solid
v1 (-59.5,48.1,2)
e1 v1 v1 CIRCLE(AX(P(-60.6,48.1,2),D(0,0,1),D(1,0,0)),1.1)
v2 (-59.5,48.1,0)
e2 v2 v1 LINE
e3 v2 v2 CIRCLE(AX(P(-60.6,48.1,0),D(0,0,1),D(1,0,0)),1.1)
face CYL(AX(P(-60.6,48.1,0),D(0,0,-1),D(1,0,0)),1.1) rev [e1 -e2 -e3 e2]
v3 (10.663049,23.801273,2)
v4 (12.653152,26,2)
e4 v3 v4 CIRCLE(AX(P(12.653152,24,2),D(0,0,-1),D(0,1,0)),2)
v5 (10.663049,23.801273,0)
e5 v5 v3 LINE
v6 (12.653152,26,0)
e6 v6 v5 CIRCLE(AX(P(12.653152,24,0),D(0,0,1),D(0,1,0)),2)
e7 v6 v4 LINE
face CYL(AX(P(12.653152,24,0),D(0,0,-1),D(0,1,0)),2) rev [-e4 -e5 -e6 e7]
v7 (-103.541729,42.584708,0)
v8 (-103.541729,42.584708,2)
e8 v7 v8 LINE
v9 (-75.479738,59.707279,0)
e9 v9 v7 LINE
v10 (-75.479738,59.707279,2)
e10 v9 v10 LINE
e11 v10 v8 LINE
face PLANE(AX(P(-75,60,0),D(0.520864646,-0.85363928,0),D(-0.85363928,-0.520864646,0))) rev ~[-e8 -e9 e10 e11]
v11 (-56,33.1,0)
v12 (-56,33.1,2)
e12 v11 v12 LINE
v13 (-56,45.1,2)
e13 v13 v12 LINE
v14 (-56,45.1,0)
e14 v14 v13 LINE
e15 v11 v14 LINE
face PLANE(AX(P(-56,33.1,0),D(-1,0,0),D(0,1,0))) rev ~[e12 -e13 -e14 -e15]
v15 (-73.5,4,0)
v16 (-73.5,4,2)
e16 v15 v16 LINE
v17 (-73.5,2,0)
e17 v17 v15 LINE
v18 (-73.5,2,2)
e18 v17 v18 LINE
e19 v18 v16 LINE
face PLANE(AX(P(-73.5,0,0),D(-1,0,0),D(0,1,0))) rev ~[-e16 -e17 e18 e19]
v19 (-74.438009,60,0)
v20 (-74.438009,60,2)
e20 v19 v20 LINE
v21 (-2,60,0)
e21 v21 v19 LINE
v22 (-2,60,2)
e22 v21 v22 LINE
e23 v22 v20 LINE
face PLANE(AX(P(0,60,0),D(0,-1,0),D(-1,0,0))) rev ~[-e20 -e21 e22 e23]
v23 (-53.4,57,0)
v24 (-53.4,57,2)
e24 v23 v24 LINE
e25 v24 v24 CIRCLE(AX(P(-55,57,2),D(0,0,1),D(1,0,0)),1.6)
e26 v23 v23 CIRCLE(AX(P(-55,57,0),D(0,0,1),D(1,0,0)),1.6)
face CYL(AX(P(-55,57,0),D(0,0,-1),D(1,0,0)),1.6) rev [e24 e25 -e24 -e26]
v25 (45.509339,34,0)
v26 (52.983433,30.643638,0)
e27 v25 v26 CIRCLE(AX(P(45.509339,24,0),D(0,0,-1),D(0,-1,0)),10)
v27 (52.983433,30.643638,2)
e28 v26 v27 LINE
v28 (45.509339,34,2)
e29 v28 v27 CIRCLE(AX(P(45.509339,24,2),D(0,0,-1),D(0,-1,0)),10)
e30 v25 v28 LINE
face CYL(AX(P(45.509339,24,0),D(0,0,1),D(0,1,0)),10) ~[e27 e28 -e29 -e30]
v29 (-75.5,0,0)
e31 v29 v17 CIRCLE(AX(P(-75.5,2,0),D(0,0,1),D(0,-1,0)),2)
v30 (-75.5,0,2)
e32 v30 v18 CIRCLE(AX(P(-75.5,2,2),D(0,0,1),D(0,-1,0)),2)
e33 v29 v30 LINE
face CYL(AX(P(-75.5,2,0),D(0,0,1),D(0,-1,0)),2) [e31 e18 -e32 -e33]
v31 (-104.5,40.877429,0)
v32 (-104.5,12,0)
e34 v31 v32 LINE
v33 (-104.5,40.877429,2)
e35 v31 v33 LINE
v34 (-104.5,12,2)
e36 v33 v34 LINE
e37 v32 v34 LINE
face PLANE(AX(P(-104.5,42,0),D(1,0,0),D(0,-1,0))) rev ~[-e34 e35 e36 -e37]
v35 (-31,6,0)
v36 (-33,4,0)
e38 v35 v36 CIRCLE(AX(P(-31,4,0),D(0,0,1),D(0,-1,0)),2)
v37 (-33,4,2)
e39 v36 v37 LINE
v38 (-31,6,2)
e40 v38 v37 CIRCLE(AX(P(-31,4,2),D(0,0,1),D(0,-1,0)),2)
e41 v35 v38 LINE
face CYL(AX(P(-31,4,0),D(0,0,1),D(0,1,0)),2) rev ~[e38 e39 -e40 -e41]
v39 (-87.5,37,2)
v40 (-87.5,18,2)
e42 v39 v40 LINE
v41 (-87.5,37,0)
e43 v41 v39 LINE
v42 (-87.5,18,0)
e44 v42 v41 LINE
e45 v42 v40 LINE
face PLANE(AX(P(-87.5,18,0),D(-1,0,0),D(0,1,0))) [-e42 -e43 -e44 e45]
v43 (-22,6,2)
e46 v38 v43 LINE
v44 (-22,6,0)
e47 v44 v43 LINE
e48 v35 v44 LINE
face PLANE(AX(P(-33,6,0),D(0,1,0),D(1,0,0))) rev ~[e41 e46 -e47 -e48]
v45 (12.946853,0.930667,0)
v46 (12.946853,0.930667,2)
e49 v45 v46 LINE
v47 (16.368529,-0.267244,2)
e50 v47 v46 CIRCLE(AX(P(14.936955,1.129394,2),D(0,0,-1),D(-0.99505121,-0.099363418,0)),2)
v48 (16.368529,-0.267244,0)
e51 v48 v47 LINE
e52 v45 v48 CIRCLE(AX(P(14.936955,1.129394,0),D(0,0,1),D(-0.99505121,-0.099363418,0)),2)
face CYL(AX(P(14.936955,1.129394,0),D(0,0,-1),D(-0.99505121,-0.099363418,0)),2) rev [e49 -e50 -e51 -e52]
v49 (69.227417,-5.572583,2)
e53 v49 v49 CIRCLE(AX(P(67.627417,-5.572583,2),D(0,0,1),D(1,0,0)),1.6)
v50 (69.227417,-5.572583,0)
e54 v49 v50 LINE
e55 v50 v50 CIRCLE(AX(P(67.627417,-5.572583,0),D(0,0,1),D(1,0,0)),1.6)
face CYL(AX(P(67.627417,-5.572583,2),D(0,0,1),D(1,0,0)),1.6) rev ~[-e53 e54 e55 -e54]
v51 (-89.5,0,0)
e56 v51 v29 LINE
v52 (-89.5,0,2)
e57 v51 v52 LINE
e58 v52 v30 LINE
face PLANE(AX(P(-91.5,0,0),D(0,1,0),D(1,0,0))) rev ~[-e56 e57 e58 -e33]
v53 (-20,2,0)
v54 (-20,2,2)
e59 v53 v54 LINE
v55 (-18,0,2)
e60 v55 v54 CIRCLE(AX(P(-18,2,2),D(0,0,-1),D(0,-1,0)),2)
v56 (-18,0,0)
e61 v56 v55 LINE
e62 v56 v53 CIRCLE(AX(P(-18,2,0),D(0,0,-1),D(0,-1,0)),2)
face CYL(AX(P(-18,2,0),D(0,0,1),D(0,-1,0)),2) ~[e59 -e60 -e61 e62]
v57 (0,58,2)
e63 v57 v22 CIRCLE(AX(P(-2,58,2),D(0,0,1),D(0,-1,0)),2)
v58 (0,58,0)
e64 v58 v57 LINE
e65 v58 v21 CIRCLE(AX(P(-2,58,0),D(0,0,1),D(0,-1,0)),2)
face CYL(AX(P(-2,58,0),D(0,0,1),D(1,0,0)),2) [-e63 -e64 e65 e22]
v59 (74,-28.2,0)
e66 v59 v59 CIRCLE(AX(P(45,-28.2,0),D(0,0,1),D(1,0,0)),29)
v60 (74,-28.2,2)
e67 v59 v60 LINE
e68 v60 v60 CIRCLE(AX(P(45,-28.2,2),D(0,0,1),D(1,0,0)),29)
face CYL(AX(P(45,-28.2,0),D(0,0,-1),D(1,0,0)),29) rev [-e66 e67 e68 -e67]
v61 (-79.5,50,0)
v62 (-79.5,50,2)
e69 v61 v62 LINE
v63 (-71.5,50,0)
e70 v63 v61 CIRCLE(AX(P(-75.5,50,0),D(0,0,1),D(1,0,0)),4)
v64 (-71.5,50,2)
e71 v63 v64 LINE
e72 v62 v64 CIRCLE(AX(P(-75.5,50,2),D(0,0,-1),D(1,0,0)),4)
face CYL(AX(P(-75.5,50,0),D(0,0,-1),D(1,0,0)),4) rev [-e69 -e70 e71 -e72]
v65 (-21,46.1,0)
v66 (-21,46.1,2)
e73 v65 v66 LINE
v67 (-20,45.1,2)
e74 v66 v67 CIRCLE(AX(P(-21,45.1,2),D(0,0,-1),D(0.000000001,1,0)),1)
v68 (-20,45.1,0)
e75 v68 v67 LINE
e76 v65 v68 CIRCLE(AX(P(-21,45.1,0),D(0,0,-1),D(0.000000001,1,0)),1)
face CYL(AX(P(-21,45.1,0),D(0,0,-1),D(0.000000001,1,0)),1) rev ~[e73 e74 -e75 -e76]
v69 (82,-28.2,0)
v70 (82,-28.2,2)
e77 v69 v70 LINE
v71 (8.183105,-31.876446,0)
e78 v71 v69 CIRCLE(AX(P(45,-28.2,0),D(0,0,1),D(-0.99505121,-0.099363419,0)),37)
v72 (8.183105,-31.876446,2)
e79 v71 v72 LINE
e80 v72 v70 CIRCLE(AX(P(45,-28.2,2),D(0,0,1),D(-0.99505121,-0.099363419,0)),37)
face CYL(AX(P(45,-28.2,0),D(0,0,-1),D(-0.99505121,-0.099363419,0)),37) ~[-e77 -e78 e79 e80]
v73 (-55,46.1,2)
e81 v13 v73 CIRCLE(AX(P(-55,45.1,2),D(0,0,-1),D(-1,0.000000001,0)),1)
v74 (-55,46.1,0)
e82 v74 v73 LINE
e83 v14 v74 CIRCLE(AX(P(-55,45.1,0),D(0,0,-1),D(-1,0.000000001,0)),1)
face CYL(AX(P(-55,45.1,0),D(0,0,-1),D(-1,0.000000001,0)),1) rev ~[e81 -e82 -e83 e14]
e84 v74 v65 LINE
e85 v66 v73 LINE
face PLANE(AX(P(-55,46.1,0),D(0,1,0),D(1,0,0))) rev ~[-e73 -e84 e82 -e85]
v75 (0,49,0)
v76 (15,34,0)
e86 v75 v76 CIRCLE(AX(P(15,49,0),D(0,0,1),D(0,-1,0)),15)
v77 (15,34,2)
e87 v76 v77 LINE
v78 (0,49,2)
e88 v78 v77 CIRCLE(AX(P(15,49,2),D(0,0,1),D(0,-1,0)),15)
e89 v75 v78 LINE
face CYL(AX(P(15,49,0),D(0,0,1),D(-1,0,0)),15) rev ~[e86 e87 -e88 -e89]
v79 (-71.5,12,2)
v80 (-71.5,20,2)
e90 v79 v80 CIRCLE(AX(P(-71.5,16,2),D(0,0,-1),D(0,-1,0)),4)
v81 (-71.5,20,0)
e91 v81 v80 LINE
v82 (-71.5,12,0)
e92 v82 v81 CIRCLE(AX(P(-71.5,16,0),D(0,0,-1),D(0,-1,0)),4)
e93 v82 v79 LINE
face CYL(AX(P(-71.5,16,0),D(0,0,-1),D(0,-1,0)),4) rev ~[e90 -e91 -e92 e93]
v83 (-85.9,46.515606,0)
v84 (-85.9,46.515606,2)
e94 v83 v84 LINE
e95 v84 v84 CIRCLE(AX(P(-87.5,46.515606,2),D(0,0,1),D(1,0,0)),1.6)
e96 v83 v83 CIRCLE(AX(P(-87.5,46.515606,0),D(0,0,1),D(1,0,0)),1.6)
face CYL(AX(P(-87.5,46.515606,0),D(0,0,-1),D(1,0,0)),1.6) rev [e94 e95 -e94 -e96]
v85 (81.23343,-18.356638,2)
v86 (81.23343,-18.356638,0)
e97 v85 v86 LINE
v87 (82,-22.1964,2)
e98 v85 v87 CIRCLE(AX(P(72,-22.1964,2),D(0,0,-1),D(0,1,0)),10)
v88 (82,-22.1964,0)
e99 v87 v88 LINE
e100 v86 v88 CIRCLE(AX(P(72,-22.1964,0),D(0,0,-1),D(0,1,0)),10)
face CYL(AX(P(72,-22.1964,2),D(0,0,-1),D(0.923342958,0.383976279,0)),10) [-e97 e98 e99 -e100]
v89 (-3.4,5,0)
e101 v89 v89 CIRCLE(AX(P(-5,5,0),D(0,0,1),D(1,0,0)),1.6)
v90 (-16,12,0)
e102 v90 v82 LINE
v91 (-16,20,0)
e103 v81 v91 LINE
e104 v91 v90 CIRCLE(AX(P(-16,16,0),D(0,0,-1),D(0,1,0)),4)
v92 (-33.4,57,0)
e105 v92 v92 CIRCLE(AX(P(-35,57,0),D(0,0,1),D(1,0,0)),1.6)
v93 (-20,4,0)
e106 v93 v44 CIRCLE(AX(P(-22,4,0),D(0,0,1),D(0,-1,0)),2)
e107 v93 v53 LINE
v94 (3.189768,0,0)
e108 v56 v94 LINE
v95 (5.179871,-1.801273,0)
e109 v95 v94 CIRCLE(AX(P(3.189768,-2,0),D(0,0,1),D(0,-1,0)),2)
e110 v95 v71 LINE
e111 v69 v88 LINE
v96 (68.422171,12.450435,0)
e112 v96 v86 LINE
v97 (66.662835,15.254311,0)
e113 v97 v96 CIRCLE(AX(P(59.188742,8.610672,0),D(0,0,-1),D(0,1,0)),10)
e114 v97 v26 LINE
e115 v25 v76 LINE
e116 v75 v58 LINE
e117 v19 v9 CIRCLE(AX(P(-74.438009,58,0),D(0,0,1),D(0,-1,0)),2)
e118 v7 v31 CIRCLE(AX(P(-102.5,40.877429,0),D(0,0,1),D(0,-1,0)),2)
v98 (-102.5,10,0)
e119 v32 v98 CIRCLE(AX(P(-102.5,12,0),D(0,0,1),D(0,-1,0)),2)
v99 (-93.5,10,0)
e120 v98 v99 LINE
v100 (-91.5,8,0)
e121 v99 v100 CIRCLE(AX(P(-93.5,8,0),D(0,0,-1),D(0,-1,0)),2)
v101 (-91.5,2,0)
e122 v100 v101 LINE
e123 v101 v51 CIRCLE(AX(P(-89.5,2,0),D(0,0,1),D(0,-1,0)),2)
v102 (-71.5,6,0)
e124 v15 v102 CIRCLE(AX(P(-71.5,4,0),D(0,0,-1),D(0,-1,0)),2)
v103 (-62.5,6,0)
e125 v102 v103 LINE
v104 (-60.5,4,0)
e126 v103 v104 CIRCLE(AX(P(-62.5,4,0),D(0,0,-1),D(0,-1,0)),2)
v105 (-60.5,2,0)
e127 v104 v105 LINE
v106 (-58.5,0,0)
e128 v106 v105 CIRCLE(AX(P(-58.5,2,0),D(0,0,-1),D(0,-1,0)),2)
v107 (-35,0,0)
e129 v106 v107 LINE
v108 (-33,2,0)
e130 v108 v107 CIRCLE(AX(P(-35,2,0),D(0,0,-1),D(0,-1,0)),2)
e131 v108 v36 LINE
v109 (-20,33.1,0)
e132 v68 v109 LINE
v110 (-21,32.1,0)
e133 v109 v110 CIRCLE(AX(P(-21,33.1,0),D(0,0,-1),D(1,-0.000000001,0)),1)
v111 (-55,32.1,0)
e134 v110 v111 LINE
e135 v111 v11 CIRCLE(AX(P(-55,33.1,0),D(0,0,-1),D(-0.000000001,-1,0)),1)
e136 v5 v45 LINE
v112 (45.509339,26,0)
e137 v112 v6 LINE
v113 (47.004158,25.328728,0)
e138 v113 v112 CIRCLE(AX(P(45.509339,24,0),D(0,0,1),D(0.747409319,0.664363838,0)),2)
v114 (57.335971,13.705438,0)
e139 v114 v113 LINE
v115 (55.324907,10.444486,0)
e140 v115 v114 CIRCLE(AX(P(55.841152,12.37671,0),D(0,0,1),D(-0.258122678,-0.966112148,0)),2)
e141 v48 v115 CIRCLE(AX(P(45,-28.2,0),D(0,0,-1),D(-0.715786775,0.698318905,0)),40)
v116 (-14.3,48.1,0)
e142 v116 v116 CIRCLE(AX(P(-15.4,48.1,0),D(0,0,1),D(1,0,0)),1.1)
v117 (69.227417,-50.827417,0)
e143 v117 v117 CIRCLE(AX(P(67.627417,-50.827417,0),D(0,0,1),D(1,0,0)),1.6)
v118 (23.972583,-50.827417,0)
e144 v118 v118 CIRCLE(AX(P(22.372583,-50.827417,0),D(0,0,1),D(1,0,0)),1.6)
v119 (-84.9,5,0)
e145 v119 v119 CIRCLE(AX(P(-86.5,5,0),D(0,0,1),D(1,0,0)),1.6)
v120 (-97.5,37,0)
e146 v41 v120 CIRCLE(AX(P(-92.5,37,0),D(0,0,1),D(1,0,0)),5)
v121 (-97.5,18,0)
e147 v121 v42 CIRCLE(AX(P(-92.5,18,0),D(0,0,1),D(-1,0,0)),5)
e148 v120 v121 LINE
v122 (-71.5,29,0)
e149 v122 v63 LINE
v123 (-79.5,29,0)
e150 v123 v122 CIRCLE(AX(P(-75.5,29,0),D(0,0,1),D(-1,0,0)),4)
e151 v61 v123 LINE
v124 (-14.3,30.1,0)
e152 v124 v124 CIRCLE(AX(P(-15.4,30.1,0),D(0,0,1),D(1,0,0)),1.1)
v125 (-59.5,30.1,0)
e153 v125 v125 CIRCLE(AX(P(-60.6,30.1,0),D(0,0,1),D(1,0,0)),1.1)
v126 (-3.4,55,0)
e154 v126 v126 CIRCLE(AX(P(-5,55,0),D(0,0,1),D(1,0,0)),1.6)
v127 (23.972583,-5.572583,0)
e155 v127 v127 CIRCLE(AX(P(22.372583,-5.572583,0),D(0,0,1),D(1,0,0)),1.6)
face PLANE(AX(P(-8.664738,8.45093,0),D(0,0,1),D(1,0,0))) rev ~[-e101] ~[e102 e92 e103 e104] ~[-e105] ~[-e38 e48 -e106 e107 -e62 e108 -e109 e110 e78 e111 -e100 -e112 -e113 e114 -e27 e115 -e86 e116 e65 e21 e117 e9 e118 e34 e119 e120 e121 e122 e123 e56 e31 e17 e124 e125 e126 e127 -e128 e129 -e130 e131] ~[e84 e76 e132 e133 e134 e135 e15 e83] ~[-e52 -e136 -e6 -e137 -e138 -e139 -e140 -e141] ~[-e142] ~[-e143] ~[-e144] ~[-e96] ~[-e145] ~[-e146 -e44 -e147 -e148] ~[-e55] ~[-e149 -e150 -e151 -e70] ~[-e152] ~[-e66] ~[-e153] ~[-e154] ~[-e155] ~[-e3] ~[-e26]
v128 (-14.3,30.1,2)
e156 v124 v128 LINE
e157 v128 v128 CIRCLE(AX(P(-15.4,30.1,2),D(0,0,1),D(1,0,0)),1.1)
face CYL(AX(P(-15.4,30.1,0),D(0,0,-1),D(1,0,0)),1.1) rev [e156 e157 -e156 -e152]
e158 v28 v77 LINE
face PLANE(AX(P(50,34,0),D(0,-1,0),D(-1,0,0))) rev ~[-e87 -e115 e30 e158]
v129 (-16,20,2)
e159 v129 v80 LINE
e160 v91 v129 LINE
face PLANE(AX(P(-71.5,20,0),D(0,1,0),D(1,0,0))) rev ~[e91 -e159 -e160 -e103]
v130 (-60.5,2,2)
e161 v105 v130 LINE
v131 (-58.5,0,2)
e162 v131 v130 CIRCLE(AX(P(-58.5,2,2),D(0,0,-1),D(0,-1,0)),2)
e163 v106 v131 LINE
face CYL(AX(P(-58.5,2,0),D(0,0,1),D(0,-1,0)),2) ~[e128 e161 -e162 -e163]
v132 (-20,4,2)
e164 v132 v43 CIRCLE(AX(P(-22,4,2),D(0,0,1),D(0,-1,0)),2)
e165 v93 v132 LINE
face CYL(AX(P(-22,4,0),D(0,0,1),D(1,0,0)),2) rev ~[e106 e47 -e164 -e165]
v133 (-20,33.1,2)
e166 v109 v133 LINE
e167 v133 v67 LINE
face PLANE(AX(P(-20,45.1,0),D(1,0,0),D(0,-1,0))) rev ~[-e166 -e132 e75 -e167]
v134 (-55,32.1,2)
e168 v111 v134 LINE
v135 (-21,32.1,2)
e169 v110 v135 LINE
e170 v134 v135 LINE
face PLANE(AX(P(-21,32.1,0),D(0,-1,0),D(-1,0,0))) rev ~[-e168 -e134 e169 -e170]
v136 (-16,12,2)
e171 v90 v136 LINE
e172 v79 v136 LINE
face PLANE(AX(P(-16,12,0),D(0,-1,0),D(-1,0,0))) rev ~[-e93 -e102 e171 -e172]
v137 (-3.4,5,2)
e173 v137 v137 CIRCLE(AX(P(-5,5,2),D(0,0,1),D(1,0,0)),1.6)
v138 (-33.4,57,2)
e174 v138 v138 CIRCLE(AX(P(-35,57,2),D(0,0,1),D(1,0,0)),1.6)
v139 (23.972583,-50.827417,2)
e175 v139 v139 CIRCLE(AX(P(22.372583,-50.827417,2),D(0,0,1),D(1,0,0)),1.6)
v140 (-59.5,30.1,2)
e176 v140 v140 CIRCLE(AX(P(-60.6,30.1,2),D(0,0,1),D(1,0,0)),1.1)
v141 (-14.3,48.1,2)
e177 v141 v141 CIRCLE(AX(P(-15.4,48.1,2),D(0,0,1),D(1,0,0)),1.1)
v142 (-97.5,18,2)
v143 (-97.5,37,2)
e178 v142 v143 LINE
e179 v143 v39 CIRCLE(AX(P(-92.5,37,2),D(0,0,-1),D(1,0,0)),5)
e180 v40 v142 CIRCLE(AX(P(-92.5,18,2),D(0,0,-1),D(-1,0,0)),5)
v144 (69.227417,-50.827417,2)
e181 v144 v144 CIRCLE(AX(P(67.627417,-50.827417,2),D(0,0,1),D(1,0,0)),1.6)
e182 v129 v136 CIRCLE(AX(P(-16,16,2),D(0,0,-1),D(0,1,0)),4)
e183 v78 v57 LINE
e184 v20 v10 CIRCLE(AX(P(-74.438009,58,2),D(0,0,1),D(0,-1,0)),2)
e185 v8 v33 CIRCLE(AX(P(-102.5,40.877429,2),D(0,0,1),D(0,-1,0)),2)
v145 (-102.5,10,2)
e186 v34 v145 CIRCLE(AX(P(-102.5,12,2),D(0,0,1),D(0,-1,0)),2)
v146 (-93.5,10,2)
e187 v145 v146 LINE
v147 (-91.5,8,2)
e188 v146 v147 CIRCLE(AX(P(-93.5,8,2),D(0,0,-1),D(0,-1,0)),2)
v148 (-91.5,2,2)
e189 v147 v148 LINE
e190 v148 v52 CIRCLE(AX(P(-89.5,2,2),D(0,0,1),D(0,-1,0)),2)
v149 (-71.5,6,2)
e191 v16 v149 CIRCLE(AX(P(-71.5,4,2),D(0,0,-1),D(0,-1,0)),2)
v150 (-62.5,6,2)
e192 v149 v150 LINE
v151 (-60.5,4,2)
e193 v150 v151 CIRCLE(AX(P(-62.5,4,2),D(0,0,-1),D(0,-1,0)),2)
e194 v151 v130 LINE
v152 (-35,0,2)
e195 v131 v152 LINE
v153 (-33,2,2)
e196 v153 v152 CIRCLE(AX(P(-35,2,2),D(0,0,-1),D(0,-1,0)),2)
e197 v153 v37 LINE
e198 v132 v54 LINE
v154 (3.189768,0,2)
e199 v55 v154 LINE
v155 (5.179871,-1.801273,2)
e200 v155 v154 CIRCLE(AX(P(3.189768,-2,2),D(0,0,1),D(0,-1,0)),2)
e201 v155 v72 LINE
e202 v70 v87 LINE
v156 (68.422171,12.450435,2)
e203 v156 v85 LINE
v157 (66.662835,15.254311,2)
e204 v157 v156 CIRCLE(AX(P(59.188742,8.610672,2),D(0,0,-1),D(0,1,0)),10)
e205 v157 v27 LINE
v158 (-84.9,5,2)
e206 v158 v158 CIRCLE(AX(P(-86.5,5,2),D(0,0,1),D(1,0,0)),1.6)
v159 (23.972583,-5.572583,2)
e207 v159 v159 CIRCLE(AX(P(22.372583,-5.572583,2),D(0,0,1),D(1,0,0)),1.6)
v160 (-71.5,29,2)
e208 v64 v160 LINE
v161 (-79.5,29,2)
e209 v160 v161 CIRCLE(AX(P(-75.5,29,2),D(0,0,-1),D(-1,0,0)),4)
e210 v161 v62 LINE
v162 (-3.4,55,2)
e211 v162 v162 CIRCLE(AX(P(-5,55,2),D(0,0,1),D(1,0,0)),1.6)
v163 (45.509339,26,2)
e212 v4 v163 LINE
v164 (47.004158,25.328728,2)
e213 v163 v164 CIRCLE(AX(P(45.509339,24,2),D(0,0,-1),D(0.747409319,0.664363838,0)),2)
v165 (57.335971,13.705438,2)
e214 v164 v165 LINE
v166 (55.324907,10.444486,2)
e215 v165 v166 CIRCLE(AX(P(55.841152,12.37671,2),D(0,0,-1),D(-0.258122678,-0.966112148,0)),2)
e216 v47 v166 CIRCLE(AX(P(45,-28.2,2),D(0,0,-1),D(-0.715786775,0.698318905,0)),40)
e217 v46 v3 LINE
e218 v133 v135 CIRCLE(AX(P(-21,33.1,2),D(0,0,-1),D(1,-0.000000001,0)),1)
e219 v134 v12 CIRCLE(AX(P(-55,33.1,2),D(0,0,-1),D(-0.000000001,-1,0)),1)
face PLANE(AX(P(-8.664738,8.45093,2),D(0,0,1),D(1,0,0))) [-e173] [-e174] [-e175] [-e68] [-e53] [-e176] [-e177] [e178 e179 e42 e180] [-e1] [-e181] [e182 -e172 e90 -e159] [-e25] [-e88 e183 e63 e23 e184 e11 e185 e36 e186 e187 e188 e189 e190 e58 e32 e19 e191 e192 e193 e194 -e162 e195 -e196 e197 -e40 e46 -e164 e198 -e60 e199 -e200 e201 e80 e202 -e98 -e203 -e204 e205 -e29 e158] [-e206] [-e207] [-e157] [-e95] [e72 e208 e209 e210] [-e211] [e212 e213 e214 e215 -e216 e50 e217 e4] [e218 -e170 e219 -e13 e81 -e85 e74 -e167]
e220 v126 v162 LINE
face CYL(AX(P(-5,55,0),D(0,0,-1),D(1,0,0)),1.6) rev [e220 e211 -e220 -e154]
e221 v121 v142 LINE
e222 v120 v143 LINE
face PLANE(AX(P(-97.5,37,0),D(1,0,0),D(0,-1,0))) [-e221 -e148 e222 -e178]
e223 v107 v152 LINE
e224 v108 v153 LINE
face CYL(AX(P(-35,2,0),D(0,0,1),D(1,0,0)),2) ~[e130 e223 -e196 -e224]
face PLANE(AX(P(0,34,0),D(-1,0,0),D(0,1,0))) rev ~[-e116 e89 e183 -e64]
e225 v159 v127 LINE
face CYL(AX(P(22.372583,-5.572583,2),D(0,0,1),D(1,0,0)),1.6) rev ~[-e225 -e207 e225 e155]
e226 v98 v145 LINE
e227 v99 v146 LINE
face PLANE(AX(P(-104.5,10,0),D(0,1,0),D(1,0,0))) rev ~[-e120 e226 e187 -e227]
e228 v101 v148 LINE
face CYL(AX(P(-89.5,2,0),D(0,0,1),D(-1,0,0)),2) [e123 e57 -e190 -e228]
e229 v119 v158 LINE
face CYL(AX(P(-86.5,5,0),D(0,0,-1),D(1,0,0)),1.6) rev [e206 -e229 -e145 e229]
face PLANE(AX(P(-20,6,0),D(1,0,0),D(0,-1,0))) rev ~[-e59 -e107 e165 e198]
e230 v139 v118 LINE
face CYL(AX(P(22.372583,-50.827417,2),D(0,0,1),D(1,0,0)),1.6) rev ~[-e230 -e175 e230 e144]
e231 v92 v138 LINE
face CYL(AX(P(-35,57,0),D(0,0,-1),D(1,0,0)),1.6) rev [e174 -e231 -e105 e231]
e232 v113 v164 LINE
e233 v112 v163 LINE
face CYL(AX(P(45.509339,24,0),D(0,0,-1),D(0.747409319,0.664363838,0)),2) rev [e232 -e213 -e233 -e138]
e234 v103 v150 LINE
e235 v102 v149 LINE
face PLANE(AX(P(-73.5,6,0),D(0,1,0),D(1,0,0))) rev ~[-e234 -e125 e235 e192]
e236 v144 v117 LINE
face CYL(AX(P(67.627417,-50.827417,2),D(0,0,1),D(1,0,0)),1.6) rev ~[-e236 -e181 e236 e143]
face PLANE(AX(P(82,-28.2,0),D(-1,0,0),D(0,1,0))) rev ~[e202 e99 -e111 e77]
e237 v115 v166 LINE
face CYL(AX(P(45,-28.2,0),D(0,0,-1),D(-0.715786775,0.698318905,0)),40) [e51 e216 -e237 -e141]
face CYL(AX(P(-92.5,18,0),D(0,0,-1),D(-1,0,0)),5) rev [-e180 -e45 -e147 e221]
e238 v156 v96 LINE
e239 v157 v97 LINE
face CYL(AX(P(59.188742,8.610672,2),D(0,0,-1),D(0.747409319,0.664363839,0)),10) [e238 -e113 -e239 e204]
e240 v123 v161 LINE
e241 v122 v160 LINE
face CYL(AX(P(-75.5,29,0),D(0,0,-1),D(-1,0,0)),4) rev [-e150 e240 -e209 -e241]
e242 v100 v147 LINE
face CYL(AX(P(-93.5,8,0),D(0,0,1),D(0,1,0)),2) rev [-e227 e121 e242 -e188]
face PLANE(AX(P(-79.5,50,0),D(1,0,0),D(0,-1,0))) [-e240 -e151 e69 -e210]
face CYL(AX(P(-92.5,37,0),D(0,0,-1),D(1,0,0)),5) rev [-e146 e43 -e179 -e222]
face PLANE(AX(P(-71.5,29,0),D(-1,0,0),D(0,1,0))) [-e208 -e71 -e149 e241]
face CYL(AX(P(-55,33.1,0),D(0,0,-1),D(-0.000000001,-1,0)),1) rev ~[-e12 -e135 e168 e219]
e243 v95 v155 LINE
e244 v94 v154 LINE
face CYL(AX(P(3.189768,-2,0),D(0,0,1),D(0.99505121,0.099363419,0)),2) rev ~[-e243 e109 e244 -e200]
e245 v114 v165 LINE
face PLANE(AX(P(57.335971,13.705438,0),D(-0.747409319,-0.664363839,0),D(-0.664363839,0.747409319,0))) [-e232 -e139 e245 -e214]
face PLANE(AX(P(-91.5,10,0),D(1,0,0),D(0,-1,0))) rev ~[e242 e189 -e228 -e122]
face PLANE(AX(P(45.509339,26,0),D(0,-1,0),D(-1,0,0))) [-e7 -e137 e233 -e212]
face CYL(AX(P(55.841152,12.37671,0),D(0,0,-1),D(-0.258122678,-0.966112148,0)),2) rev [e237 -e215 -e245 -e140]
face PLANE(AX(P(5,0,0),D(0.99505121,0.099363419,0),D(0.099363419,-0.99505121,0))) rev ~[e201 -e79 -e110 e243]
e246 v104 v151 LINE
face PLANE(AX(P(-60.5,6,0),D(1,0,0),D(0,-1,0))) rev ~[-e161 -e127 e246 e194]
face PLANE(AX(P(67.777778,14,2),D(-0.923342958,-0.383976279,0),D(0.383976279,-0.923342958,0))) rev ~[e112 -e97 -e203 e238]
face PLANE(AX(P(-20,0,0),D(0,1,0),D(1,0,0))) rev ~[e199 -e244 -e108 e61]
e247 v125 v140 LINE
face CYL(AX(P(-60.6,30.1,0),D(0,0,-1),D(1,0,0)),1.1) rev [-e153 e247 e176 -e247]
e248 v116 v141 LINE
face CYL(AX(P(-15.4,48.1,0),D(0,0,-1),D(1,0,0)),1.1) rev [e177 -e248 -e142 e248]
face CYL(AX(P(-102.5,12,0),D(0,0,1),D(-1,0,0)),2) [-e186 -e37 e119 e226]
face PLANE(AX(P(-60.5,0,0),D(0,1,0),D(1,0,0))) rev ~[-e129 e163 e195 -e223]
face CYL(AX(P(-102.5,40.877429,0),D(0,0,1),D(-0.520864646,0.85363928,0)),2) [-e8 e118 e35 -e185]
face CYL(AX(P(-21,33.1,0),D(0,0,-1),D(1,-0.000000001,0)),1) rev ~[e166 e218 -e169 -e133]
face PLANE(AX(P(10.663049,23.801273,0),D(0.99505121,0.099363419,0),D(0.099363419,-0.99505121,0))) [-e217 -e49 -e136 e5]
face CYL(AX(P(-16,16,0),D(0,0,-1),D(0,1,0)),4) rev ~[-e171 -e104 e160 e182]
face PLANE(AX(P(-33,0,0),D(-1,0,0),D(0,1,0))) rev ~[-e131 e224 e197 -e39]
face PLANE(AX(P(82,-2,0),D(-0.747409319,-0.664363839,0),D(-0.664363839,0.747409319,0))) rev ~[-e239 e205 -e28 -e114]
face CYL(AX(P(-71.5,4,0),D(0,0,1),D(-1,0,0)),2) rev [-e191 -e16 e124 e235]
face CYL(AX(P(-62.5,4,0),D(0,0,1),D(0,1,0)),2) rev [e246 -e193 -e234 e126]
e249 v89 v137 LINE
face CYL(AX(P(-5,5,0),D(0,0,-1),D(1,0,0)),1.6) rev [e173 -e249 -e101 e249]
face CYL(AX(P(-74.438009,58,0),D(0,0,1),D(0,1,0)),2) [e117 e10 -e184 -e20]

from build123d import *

# Parameters (mm, degrees)
SKETCH_1_R          = 1.6
SKETCH_1_R_2        = 29
SKETCH_1_R_3        = 1.1
EXTRUDE_1_DEPTH     = 2
FILLET_1_R          = 15
FILLET_2_R          = 10
FILLET_3_R          = 2
SKETCH_2_R          = 1.6
CUT_EXTRUDE_1_DEPTH = 124.188027016
CUT_EXTRUDE_2_DEPTH = 124.188027016
CUT_EXTRUDE_3_DEPTH = 124.188027016
FILLET_4_R          = 10


with BuildPart() as part:
    # 草图1 → 凸台-拉伸1 (new body)
    with BuildSketch(Plane.XY):
        with BuildLine():
            Line((0, 34), (0, 60))
            Line((0, 60), (-75, 60))
            Line((-75, 60), (-104.5, 42))
            Line((-104.5, 42), (-104.5, 10))
            Line((-104.5, 10), (-91.5, 10))
            Line((-91.5, 10), (-91.5, 0))
            Line((-91.5, 0), (-73.5, 0))
            Line((-73.5, 0), (-73.5, 6))
            Line((-73.5, 6), (-60.5, 6))
            Line((-60.5, 6), (-60.5, 0))
            Line((-60.5, 0), (-33, 0))
            Line((-33, 0), (-33, 6))
            Line((-33, 6), (-20, 6))
            Line((-20, 6), (-20, 0))
            Line((-20, 0), (0, 0))
            Line((0, 0), (5, 0))
            Line((5, 0), (8.183105221, -31.876446495))
            ThreePointArc((8.183105221, -31.876446495), (46.840501722, -65.154195343), (82, -28.2))
            Line((82, -28.2), (82, -2))
            Line((82, -2), (50, 34))
            Line((50, 34), (0, 34))
        make_face()
        with Locations((-86.5, 5)):
            Circle(SKETCH_1_R, mode=Mode.SUBTRACT)
        with Locations((-5, 5)):
            Circle(SKETCH_1_R, mode=Mode.SUBTRACT)
        with Locations((45, -28.2)):
            Circle(SKETCH_1_R_2, mode=Mode.SUBTRACT)
        with Locations((-35, 57)):
            Circle(SKETCH_1_R, mode=Mode.SUBTRACT)
        with Locations((-55, 57)):
            Circle(SKETCH_1_R, mode=Mode.SUBTRACT)
        with Locations((-87.5, 46.515606374)):
            Circle(SKETCH_1_R, mode=Mode.SUBTRACT)
        with Locations((-15.4, 48.1)):
            Circle(SKETCH_1_R_3, mode=Mode.SUBTRACT)
        with Locations((-15.4, 30.1)):
            Circle(SKETCH_1_R_3, mode=Mode.SUBTRACT)
        with Locations((-60.6, 48.1)):
            Circle(SKETCH_1_R_3, mode=Mode.SUBTRACT)
        with Locations((-60.6, 30.1)):
            Circle(SKETCH_1_R_3, mode=Mode.SUBTRACT)
        with Locations((-5, 55)):
            Circle(SKETCH_1_R, mode=Mode.SUBTRACT)
    extrude(amount=EXTRUDE_1_DEPTH)

    # 圆角1
    fillet_1_edges = [part.edges().sort_by_distance(p)[0] for p in [
        (0, 34, 1),
    ]]
    fillet(fillet_1_edges, radius=FILLET_1_R)

    # 圆角2
    fillet_2_edges = [part.edges().sort_by_distance(p)[0] for p in [
        (50, 34, 1),
        (82, -2, 1),
    ]]
    fillet(fillet_2_edges, radius=FILLET_2_R)

    # 圆角3
    fillet_3_edges = [part.edges().sort_by_distance(p)[0] for p in [
        (-20, 0, 1),
        (-20, 6, 1),
        (-33, 6, 1),
        (-33, 0, 1),
        (-60.5, 0, 1),
        (-60.5, 6, 1),
        (-73.5, 6, 1),
        (-73.5, 0, 1),
        (-91.5, 0, 1),
        (-91.5, 10, 1),
        (-104.5, 10, 1),
        (-104.5, 42, 1),
        (-75, 60, 1),
        (0, 60, 1),
        (5, 0, 1),
    ]]
    fillet(fillet_3_edges, radius=FILLET_3_R)

    # 草图2 → 切除-拉伸1 (cut, through all)
    with BuildSketch(Plane.XY.offset(2)):
        with Locations((67.627416998, -50.827416998)):
            Circle(SKETCH_2_R)
        with Locations((22.372583002, -50.827416998)):
            Circle(SKETCH_2_R)
        with Locations((22.372583002, -5.572583002)):
            Circle(SKETCH_2_R)
        with Locations((67.627416998, -5.572583002)):
            Circle(SKETCH_2_R)
    extrude(amount=-CUT_EXTRUDE_1_DEPTH, mode=Mode.SUBTRACT)

    # 草图3 → 切除-拉伸2 (cut, through all)
    with BuildSketch(Plane(origin=(0, 0, 0), x_dir=(-1, 0, 0), z_dir=(0, 0, -1))):
        with BuildLine():
            Line((20, 45.1), (20, 33.1))
            ThreePointArc((20, 33.1), (20.292893219, 32.392893219), (21, 32.1))
            Line((21, 32.1), (55, 32.1))
            ThreePointArc((55, 32.1), (55.707106781, 32.392893219), (56, 33.1))
            Line((56, 33.1), (56, 45.1))
            ThreePointArc((56, 45.1), (55.707106781, 45.807106781), (55, 46.1))
            Line((55, 46.1), (21, 46.1))
            ThreePointArc((21, 46.1), (20.292893219, 45.807106781), (20, 45.1))
        make_face()
        with BuildLine():
            Line((71.5, 20), (16, 20))
            ThreePointArc((16, 20), (12, 16), (16, 12))
            Line((16, 12), (71.5, 12))
            ThreePointArc((71.5, 12), (75.5, 16), (71.5, 20))
        make_face()
        with BuildLine():
            Line((79.5, 50), (79.5, 29))
            ThreePointArc((79.5, 29), (75.5, 25), (71.5, 29))
            Line((71.5, 29), (71.5, 50))
            ThreePointArc((71.5, 50), (75.5, 54), (79.5, 50))
        make_face()
        with BuildLine():
            Line((97.5, 37), (97.5, 18))
            ThreePointArc((97.5, 18), (92.5, 13), (87.5, 18))
            Line((87.5, 18), (87.5, 37))
            ThreePointArc((87.5, 37), (92.5, 42), (97.5, 37))
        make_face()
        with BuildLine():
            Line((-45.509339357, 26), (-12.653151788, 26))
            ThreePointArc((-12.653151788, 26), (-11.170341336, 25.342115182), (-10.663049368, 23.801273162))
            Line((-10.663049368, 23.801273162), (-12.946853034, 0.930667166))
            ThreePointArc((-12.946853034, 0.930667166), (-14.276095182, -0.758266904), (-16.368529004, -0.267243806))
            ThreePointArc((-16.368529004, -0.267243806), (-34.394913551, 10.368538233), (-55.324907134, 10.444485929))
            ThreePointArc((-55.324907134, 10.444485929), (-57.543460735, 11.326878506), (-57.335971128, 13.705437903))
            Line((-57.335971128, 13.705437903), (-47.004157994, 25.328727678))
            ThreePointArc((-47.004157994, 25.328727678), (-46.32865146, 25.824480112), (-45.509339357, 26))
        make_face()
    extrude(amount=-CUT_EXTRUDE_2_DEPTH, mode=Mode.SUBTRACT)

    # 草图4 → 切除-拉伸3 (cut, through all)
    with BuildSketch(Plane.XY.offset(2)):
        Polygon((67.777777778, 14), (82, -20.2), (96.250689627, 10.566455123), align=None)
    extrude(amount=-CUT_EXTRUDE_3_DEPTH, mode=Mode.SUBTRACT)

    # 圆角4
    fillet_4_edges = [part.edges().sort_by_distance(p)[0] for p in [
        (67.777777778, 14, 1),
        (82, -20.2, 1),
    ]]
    fillet(fillet_4_edges, radius=FILLET_4_R)


solid = part.part
